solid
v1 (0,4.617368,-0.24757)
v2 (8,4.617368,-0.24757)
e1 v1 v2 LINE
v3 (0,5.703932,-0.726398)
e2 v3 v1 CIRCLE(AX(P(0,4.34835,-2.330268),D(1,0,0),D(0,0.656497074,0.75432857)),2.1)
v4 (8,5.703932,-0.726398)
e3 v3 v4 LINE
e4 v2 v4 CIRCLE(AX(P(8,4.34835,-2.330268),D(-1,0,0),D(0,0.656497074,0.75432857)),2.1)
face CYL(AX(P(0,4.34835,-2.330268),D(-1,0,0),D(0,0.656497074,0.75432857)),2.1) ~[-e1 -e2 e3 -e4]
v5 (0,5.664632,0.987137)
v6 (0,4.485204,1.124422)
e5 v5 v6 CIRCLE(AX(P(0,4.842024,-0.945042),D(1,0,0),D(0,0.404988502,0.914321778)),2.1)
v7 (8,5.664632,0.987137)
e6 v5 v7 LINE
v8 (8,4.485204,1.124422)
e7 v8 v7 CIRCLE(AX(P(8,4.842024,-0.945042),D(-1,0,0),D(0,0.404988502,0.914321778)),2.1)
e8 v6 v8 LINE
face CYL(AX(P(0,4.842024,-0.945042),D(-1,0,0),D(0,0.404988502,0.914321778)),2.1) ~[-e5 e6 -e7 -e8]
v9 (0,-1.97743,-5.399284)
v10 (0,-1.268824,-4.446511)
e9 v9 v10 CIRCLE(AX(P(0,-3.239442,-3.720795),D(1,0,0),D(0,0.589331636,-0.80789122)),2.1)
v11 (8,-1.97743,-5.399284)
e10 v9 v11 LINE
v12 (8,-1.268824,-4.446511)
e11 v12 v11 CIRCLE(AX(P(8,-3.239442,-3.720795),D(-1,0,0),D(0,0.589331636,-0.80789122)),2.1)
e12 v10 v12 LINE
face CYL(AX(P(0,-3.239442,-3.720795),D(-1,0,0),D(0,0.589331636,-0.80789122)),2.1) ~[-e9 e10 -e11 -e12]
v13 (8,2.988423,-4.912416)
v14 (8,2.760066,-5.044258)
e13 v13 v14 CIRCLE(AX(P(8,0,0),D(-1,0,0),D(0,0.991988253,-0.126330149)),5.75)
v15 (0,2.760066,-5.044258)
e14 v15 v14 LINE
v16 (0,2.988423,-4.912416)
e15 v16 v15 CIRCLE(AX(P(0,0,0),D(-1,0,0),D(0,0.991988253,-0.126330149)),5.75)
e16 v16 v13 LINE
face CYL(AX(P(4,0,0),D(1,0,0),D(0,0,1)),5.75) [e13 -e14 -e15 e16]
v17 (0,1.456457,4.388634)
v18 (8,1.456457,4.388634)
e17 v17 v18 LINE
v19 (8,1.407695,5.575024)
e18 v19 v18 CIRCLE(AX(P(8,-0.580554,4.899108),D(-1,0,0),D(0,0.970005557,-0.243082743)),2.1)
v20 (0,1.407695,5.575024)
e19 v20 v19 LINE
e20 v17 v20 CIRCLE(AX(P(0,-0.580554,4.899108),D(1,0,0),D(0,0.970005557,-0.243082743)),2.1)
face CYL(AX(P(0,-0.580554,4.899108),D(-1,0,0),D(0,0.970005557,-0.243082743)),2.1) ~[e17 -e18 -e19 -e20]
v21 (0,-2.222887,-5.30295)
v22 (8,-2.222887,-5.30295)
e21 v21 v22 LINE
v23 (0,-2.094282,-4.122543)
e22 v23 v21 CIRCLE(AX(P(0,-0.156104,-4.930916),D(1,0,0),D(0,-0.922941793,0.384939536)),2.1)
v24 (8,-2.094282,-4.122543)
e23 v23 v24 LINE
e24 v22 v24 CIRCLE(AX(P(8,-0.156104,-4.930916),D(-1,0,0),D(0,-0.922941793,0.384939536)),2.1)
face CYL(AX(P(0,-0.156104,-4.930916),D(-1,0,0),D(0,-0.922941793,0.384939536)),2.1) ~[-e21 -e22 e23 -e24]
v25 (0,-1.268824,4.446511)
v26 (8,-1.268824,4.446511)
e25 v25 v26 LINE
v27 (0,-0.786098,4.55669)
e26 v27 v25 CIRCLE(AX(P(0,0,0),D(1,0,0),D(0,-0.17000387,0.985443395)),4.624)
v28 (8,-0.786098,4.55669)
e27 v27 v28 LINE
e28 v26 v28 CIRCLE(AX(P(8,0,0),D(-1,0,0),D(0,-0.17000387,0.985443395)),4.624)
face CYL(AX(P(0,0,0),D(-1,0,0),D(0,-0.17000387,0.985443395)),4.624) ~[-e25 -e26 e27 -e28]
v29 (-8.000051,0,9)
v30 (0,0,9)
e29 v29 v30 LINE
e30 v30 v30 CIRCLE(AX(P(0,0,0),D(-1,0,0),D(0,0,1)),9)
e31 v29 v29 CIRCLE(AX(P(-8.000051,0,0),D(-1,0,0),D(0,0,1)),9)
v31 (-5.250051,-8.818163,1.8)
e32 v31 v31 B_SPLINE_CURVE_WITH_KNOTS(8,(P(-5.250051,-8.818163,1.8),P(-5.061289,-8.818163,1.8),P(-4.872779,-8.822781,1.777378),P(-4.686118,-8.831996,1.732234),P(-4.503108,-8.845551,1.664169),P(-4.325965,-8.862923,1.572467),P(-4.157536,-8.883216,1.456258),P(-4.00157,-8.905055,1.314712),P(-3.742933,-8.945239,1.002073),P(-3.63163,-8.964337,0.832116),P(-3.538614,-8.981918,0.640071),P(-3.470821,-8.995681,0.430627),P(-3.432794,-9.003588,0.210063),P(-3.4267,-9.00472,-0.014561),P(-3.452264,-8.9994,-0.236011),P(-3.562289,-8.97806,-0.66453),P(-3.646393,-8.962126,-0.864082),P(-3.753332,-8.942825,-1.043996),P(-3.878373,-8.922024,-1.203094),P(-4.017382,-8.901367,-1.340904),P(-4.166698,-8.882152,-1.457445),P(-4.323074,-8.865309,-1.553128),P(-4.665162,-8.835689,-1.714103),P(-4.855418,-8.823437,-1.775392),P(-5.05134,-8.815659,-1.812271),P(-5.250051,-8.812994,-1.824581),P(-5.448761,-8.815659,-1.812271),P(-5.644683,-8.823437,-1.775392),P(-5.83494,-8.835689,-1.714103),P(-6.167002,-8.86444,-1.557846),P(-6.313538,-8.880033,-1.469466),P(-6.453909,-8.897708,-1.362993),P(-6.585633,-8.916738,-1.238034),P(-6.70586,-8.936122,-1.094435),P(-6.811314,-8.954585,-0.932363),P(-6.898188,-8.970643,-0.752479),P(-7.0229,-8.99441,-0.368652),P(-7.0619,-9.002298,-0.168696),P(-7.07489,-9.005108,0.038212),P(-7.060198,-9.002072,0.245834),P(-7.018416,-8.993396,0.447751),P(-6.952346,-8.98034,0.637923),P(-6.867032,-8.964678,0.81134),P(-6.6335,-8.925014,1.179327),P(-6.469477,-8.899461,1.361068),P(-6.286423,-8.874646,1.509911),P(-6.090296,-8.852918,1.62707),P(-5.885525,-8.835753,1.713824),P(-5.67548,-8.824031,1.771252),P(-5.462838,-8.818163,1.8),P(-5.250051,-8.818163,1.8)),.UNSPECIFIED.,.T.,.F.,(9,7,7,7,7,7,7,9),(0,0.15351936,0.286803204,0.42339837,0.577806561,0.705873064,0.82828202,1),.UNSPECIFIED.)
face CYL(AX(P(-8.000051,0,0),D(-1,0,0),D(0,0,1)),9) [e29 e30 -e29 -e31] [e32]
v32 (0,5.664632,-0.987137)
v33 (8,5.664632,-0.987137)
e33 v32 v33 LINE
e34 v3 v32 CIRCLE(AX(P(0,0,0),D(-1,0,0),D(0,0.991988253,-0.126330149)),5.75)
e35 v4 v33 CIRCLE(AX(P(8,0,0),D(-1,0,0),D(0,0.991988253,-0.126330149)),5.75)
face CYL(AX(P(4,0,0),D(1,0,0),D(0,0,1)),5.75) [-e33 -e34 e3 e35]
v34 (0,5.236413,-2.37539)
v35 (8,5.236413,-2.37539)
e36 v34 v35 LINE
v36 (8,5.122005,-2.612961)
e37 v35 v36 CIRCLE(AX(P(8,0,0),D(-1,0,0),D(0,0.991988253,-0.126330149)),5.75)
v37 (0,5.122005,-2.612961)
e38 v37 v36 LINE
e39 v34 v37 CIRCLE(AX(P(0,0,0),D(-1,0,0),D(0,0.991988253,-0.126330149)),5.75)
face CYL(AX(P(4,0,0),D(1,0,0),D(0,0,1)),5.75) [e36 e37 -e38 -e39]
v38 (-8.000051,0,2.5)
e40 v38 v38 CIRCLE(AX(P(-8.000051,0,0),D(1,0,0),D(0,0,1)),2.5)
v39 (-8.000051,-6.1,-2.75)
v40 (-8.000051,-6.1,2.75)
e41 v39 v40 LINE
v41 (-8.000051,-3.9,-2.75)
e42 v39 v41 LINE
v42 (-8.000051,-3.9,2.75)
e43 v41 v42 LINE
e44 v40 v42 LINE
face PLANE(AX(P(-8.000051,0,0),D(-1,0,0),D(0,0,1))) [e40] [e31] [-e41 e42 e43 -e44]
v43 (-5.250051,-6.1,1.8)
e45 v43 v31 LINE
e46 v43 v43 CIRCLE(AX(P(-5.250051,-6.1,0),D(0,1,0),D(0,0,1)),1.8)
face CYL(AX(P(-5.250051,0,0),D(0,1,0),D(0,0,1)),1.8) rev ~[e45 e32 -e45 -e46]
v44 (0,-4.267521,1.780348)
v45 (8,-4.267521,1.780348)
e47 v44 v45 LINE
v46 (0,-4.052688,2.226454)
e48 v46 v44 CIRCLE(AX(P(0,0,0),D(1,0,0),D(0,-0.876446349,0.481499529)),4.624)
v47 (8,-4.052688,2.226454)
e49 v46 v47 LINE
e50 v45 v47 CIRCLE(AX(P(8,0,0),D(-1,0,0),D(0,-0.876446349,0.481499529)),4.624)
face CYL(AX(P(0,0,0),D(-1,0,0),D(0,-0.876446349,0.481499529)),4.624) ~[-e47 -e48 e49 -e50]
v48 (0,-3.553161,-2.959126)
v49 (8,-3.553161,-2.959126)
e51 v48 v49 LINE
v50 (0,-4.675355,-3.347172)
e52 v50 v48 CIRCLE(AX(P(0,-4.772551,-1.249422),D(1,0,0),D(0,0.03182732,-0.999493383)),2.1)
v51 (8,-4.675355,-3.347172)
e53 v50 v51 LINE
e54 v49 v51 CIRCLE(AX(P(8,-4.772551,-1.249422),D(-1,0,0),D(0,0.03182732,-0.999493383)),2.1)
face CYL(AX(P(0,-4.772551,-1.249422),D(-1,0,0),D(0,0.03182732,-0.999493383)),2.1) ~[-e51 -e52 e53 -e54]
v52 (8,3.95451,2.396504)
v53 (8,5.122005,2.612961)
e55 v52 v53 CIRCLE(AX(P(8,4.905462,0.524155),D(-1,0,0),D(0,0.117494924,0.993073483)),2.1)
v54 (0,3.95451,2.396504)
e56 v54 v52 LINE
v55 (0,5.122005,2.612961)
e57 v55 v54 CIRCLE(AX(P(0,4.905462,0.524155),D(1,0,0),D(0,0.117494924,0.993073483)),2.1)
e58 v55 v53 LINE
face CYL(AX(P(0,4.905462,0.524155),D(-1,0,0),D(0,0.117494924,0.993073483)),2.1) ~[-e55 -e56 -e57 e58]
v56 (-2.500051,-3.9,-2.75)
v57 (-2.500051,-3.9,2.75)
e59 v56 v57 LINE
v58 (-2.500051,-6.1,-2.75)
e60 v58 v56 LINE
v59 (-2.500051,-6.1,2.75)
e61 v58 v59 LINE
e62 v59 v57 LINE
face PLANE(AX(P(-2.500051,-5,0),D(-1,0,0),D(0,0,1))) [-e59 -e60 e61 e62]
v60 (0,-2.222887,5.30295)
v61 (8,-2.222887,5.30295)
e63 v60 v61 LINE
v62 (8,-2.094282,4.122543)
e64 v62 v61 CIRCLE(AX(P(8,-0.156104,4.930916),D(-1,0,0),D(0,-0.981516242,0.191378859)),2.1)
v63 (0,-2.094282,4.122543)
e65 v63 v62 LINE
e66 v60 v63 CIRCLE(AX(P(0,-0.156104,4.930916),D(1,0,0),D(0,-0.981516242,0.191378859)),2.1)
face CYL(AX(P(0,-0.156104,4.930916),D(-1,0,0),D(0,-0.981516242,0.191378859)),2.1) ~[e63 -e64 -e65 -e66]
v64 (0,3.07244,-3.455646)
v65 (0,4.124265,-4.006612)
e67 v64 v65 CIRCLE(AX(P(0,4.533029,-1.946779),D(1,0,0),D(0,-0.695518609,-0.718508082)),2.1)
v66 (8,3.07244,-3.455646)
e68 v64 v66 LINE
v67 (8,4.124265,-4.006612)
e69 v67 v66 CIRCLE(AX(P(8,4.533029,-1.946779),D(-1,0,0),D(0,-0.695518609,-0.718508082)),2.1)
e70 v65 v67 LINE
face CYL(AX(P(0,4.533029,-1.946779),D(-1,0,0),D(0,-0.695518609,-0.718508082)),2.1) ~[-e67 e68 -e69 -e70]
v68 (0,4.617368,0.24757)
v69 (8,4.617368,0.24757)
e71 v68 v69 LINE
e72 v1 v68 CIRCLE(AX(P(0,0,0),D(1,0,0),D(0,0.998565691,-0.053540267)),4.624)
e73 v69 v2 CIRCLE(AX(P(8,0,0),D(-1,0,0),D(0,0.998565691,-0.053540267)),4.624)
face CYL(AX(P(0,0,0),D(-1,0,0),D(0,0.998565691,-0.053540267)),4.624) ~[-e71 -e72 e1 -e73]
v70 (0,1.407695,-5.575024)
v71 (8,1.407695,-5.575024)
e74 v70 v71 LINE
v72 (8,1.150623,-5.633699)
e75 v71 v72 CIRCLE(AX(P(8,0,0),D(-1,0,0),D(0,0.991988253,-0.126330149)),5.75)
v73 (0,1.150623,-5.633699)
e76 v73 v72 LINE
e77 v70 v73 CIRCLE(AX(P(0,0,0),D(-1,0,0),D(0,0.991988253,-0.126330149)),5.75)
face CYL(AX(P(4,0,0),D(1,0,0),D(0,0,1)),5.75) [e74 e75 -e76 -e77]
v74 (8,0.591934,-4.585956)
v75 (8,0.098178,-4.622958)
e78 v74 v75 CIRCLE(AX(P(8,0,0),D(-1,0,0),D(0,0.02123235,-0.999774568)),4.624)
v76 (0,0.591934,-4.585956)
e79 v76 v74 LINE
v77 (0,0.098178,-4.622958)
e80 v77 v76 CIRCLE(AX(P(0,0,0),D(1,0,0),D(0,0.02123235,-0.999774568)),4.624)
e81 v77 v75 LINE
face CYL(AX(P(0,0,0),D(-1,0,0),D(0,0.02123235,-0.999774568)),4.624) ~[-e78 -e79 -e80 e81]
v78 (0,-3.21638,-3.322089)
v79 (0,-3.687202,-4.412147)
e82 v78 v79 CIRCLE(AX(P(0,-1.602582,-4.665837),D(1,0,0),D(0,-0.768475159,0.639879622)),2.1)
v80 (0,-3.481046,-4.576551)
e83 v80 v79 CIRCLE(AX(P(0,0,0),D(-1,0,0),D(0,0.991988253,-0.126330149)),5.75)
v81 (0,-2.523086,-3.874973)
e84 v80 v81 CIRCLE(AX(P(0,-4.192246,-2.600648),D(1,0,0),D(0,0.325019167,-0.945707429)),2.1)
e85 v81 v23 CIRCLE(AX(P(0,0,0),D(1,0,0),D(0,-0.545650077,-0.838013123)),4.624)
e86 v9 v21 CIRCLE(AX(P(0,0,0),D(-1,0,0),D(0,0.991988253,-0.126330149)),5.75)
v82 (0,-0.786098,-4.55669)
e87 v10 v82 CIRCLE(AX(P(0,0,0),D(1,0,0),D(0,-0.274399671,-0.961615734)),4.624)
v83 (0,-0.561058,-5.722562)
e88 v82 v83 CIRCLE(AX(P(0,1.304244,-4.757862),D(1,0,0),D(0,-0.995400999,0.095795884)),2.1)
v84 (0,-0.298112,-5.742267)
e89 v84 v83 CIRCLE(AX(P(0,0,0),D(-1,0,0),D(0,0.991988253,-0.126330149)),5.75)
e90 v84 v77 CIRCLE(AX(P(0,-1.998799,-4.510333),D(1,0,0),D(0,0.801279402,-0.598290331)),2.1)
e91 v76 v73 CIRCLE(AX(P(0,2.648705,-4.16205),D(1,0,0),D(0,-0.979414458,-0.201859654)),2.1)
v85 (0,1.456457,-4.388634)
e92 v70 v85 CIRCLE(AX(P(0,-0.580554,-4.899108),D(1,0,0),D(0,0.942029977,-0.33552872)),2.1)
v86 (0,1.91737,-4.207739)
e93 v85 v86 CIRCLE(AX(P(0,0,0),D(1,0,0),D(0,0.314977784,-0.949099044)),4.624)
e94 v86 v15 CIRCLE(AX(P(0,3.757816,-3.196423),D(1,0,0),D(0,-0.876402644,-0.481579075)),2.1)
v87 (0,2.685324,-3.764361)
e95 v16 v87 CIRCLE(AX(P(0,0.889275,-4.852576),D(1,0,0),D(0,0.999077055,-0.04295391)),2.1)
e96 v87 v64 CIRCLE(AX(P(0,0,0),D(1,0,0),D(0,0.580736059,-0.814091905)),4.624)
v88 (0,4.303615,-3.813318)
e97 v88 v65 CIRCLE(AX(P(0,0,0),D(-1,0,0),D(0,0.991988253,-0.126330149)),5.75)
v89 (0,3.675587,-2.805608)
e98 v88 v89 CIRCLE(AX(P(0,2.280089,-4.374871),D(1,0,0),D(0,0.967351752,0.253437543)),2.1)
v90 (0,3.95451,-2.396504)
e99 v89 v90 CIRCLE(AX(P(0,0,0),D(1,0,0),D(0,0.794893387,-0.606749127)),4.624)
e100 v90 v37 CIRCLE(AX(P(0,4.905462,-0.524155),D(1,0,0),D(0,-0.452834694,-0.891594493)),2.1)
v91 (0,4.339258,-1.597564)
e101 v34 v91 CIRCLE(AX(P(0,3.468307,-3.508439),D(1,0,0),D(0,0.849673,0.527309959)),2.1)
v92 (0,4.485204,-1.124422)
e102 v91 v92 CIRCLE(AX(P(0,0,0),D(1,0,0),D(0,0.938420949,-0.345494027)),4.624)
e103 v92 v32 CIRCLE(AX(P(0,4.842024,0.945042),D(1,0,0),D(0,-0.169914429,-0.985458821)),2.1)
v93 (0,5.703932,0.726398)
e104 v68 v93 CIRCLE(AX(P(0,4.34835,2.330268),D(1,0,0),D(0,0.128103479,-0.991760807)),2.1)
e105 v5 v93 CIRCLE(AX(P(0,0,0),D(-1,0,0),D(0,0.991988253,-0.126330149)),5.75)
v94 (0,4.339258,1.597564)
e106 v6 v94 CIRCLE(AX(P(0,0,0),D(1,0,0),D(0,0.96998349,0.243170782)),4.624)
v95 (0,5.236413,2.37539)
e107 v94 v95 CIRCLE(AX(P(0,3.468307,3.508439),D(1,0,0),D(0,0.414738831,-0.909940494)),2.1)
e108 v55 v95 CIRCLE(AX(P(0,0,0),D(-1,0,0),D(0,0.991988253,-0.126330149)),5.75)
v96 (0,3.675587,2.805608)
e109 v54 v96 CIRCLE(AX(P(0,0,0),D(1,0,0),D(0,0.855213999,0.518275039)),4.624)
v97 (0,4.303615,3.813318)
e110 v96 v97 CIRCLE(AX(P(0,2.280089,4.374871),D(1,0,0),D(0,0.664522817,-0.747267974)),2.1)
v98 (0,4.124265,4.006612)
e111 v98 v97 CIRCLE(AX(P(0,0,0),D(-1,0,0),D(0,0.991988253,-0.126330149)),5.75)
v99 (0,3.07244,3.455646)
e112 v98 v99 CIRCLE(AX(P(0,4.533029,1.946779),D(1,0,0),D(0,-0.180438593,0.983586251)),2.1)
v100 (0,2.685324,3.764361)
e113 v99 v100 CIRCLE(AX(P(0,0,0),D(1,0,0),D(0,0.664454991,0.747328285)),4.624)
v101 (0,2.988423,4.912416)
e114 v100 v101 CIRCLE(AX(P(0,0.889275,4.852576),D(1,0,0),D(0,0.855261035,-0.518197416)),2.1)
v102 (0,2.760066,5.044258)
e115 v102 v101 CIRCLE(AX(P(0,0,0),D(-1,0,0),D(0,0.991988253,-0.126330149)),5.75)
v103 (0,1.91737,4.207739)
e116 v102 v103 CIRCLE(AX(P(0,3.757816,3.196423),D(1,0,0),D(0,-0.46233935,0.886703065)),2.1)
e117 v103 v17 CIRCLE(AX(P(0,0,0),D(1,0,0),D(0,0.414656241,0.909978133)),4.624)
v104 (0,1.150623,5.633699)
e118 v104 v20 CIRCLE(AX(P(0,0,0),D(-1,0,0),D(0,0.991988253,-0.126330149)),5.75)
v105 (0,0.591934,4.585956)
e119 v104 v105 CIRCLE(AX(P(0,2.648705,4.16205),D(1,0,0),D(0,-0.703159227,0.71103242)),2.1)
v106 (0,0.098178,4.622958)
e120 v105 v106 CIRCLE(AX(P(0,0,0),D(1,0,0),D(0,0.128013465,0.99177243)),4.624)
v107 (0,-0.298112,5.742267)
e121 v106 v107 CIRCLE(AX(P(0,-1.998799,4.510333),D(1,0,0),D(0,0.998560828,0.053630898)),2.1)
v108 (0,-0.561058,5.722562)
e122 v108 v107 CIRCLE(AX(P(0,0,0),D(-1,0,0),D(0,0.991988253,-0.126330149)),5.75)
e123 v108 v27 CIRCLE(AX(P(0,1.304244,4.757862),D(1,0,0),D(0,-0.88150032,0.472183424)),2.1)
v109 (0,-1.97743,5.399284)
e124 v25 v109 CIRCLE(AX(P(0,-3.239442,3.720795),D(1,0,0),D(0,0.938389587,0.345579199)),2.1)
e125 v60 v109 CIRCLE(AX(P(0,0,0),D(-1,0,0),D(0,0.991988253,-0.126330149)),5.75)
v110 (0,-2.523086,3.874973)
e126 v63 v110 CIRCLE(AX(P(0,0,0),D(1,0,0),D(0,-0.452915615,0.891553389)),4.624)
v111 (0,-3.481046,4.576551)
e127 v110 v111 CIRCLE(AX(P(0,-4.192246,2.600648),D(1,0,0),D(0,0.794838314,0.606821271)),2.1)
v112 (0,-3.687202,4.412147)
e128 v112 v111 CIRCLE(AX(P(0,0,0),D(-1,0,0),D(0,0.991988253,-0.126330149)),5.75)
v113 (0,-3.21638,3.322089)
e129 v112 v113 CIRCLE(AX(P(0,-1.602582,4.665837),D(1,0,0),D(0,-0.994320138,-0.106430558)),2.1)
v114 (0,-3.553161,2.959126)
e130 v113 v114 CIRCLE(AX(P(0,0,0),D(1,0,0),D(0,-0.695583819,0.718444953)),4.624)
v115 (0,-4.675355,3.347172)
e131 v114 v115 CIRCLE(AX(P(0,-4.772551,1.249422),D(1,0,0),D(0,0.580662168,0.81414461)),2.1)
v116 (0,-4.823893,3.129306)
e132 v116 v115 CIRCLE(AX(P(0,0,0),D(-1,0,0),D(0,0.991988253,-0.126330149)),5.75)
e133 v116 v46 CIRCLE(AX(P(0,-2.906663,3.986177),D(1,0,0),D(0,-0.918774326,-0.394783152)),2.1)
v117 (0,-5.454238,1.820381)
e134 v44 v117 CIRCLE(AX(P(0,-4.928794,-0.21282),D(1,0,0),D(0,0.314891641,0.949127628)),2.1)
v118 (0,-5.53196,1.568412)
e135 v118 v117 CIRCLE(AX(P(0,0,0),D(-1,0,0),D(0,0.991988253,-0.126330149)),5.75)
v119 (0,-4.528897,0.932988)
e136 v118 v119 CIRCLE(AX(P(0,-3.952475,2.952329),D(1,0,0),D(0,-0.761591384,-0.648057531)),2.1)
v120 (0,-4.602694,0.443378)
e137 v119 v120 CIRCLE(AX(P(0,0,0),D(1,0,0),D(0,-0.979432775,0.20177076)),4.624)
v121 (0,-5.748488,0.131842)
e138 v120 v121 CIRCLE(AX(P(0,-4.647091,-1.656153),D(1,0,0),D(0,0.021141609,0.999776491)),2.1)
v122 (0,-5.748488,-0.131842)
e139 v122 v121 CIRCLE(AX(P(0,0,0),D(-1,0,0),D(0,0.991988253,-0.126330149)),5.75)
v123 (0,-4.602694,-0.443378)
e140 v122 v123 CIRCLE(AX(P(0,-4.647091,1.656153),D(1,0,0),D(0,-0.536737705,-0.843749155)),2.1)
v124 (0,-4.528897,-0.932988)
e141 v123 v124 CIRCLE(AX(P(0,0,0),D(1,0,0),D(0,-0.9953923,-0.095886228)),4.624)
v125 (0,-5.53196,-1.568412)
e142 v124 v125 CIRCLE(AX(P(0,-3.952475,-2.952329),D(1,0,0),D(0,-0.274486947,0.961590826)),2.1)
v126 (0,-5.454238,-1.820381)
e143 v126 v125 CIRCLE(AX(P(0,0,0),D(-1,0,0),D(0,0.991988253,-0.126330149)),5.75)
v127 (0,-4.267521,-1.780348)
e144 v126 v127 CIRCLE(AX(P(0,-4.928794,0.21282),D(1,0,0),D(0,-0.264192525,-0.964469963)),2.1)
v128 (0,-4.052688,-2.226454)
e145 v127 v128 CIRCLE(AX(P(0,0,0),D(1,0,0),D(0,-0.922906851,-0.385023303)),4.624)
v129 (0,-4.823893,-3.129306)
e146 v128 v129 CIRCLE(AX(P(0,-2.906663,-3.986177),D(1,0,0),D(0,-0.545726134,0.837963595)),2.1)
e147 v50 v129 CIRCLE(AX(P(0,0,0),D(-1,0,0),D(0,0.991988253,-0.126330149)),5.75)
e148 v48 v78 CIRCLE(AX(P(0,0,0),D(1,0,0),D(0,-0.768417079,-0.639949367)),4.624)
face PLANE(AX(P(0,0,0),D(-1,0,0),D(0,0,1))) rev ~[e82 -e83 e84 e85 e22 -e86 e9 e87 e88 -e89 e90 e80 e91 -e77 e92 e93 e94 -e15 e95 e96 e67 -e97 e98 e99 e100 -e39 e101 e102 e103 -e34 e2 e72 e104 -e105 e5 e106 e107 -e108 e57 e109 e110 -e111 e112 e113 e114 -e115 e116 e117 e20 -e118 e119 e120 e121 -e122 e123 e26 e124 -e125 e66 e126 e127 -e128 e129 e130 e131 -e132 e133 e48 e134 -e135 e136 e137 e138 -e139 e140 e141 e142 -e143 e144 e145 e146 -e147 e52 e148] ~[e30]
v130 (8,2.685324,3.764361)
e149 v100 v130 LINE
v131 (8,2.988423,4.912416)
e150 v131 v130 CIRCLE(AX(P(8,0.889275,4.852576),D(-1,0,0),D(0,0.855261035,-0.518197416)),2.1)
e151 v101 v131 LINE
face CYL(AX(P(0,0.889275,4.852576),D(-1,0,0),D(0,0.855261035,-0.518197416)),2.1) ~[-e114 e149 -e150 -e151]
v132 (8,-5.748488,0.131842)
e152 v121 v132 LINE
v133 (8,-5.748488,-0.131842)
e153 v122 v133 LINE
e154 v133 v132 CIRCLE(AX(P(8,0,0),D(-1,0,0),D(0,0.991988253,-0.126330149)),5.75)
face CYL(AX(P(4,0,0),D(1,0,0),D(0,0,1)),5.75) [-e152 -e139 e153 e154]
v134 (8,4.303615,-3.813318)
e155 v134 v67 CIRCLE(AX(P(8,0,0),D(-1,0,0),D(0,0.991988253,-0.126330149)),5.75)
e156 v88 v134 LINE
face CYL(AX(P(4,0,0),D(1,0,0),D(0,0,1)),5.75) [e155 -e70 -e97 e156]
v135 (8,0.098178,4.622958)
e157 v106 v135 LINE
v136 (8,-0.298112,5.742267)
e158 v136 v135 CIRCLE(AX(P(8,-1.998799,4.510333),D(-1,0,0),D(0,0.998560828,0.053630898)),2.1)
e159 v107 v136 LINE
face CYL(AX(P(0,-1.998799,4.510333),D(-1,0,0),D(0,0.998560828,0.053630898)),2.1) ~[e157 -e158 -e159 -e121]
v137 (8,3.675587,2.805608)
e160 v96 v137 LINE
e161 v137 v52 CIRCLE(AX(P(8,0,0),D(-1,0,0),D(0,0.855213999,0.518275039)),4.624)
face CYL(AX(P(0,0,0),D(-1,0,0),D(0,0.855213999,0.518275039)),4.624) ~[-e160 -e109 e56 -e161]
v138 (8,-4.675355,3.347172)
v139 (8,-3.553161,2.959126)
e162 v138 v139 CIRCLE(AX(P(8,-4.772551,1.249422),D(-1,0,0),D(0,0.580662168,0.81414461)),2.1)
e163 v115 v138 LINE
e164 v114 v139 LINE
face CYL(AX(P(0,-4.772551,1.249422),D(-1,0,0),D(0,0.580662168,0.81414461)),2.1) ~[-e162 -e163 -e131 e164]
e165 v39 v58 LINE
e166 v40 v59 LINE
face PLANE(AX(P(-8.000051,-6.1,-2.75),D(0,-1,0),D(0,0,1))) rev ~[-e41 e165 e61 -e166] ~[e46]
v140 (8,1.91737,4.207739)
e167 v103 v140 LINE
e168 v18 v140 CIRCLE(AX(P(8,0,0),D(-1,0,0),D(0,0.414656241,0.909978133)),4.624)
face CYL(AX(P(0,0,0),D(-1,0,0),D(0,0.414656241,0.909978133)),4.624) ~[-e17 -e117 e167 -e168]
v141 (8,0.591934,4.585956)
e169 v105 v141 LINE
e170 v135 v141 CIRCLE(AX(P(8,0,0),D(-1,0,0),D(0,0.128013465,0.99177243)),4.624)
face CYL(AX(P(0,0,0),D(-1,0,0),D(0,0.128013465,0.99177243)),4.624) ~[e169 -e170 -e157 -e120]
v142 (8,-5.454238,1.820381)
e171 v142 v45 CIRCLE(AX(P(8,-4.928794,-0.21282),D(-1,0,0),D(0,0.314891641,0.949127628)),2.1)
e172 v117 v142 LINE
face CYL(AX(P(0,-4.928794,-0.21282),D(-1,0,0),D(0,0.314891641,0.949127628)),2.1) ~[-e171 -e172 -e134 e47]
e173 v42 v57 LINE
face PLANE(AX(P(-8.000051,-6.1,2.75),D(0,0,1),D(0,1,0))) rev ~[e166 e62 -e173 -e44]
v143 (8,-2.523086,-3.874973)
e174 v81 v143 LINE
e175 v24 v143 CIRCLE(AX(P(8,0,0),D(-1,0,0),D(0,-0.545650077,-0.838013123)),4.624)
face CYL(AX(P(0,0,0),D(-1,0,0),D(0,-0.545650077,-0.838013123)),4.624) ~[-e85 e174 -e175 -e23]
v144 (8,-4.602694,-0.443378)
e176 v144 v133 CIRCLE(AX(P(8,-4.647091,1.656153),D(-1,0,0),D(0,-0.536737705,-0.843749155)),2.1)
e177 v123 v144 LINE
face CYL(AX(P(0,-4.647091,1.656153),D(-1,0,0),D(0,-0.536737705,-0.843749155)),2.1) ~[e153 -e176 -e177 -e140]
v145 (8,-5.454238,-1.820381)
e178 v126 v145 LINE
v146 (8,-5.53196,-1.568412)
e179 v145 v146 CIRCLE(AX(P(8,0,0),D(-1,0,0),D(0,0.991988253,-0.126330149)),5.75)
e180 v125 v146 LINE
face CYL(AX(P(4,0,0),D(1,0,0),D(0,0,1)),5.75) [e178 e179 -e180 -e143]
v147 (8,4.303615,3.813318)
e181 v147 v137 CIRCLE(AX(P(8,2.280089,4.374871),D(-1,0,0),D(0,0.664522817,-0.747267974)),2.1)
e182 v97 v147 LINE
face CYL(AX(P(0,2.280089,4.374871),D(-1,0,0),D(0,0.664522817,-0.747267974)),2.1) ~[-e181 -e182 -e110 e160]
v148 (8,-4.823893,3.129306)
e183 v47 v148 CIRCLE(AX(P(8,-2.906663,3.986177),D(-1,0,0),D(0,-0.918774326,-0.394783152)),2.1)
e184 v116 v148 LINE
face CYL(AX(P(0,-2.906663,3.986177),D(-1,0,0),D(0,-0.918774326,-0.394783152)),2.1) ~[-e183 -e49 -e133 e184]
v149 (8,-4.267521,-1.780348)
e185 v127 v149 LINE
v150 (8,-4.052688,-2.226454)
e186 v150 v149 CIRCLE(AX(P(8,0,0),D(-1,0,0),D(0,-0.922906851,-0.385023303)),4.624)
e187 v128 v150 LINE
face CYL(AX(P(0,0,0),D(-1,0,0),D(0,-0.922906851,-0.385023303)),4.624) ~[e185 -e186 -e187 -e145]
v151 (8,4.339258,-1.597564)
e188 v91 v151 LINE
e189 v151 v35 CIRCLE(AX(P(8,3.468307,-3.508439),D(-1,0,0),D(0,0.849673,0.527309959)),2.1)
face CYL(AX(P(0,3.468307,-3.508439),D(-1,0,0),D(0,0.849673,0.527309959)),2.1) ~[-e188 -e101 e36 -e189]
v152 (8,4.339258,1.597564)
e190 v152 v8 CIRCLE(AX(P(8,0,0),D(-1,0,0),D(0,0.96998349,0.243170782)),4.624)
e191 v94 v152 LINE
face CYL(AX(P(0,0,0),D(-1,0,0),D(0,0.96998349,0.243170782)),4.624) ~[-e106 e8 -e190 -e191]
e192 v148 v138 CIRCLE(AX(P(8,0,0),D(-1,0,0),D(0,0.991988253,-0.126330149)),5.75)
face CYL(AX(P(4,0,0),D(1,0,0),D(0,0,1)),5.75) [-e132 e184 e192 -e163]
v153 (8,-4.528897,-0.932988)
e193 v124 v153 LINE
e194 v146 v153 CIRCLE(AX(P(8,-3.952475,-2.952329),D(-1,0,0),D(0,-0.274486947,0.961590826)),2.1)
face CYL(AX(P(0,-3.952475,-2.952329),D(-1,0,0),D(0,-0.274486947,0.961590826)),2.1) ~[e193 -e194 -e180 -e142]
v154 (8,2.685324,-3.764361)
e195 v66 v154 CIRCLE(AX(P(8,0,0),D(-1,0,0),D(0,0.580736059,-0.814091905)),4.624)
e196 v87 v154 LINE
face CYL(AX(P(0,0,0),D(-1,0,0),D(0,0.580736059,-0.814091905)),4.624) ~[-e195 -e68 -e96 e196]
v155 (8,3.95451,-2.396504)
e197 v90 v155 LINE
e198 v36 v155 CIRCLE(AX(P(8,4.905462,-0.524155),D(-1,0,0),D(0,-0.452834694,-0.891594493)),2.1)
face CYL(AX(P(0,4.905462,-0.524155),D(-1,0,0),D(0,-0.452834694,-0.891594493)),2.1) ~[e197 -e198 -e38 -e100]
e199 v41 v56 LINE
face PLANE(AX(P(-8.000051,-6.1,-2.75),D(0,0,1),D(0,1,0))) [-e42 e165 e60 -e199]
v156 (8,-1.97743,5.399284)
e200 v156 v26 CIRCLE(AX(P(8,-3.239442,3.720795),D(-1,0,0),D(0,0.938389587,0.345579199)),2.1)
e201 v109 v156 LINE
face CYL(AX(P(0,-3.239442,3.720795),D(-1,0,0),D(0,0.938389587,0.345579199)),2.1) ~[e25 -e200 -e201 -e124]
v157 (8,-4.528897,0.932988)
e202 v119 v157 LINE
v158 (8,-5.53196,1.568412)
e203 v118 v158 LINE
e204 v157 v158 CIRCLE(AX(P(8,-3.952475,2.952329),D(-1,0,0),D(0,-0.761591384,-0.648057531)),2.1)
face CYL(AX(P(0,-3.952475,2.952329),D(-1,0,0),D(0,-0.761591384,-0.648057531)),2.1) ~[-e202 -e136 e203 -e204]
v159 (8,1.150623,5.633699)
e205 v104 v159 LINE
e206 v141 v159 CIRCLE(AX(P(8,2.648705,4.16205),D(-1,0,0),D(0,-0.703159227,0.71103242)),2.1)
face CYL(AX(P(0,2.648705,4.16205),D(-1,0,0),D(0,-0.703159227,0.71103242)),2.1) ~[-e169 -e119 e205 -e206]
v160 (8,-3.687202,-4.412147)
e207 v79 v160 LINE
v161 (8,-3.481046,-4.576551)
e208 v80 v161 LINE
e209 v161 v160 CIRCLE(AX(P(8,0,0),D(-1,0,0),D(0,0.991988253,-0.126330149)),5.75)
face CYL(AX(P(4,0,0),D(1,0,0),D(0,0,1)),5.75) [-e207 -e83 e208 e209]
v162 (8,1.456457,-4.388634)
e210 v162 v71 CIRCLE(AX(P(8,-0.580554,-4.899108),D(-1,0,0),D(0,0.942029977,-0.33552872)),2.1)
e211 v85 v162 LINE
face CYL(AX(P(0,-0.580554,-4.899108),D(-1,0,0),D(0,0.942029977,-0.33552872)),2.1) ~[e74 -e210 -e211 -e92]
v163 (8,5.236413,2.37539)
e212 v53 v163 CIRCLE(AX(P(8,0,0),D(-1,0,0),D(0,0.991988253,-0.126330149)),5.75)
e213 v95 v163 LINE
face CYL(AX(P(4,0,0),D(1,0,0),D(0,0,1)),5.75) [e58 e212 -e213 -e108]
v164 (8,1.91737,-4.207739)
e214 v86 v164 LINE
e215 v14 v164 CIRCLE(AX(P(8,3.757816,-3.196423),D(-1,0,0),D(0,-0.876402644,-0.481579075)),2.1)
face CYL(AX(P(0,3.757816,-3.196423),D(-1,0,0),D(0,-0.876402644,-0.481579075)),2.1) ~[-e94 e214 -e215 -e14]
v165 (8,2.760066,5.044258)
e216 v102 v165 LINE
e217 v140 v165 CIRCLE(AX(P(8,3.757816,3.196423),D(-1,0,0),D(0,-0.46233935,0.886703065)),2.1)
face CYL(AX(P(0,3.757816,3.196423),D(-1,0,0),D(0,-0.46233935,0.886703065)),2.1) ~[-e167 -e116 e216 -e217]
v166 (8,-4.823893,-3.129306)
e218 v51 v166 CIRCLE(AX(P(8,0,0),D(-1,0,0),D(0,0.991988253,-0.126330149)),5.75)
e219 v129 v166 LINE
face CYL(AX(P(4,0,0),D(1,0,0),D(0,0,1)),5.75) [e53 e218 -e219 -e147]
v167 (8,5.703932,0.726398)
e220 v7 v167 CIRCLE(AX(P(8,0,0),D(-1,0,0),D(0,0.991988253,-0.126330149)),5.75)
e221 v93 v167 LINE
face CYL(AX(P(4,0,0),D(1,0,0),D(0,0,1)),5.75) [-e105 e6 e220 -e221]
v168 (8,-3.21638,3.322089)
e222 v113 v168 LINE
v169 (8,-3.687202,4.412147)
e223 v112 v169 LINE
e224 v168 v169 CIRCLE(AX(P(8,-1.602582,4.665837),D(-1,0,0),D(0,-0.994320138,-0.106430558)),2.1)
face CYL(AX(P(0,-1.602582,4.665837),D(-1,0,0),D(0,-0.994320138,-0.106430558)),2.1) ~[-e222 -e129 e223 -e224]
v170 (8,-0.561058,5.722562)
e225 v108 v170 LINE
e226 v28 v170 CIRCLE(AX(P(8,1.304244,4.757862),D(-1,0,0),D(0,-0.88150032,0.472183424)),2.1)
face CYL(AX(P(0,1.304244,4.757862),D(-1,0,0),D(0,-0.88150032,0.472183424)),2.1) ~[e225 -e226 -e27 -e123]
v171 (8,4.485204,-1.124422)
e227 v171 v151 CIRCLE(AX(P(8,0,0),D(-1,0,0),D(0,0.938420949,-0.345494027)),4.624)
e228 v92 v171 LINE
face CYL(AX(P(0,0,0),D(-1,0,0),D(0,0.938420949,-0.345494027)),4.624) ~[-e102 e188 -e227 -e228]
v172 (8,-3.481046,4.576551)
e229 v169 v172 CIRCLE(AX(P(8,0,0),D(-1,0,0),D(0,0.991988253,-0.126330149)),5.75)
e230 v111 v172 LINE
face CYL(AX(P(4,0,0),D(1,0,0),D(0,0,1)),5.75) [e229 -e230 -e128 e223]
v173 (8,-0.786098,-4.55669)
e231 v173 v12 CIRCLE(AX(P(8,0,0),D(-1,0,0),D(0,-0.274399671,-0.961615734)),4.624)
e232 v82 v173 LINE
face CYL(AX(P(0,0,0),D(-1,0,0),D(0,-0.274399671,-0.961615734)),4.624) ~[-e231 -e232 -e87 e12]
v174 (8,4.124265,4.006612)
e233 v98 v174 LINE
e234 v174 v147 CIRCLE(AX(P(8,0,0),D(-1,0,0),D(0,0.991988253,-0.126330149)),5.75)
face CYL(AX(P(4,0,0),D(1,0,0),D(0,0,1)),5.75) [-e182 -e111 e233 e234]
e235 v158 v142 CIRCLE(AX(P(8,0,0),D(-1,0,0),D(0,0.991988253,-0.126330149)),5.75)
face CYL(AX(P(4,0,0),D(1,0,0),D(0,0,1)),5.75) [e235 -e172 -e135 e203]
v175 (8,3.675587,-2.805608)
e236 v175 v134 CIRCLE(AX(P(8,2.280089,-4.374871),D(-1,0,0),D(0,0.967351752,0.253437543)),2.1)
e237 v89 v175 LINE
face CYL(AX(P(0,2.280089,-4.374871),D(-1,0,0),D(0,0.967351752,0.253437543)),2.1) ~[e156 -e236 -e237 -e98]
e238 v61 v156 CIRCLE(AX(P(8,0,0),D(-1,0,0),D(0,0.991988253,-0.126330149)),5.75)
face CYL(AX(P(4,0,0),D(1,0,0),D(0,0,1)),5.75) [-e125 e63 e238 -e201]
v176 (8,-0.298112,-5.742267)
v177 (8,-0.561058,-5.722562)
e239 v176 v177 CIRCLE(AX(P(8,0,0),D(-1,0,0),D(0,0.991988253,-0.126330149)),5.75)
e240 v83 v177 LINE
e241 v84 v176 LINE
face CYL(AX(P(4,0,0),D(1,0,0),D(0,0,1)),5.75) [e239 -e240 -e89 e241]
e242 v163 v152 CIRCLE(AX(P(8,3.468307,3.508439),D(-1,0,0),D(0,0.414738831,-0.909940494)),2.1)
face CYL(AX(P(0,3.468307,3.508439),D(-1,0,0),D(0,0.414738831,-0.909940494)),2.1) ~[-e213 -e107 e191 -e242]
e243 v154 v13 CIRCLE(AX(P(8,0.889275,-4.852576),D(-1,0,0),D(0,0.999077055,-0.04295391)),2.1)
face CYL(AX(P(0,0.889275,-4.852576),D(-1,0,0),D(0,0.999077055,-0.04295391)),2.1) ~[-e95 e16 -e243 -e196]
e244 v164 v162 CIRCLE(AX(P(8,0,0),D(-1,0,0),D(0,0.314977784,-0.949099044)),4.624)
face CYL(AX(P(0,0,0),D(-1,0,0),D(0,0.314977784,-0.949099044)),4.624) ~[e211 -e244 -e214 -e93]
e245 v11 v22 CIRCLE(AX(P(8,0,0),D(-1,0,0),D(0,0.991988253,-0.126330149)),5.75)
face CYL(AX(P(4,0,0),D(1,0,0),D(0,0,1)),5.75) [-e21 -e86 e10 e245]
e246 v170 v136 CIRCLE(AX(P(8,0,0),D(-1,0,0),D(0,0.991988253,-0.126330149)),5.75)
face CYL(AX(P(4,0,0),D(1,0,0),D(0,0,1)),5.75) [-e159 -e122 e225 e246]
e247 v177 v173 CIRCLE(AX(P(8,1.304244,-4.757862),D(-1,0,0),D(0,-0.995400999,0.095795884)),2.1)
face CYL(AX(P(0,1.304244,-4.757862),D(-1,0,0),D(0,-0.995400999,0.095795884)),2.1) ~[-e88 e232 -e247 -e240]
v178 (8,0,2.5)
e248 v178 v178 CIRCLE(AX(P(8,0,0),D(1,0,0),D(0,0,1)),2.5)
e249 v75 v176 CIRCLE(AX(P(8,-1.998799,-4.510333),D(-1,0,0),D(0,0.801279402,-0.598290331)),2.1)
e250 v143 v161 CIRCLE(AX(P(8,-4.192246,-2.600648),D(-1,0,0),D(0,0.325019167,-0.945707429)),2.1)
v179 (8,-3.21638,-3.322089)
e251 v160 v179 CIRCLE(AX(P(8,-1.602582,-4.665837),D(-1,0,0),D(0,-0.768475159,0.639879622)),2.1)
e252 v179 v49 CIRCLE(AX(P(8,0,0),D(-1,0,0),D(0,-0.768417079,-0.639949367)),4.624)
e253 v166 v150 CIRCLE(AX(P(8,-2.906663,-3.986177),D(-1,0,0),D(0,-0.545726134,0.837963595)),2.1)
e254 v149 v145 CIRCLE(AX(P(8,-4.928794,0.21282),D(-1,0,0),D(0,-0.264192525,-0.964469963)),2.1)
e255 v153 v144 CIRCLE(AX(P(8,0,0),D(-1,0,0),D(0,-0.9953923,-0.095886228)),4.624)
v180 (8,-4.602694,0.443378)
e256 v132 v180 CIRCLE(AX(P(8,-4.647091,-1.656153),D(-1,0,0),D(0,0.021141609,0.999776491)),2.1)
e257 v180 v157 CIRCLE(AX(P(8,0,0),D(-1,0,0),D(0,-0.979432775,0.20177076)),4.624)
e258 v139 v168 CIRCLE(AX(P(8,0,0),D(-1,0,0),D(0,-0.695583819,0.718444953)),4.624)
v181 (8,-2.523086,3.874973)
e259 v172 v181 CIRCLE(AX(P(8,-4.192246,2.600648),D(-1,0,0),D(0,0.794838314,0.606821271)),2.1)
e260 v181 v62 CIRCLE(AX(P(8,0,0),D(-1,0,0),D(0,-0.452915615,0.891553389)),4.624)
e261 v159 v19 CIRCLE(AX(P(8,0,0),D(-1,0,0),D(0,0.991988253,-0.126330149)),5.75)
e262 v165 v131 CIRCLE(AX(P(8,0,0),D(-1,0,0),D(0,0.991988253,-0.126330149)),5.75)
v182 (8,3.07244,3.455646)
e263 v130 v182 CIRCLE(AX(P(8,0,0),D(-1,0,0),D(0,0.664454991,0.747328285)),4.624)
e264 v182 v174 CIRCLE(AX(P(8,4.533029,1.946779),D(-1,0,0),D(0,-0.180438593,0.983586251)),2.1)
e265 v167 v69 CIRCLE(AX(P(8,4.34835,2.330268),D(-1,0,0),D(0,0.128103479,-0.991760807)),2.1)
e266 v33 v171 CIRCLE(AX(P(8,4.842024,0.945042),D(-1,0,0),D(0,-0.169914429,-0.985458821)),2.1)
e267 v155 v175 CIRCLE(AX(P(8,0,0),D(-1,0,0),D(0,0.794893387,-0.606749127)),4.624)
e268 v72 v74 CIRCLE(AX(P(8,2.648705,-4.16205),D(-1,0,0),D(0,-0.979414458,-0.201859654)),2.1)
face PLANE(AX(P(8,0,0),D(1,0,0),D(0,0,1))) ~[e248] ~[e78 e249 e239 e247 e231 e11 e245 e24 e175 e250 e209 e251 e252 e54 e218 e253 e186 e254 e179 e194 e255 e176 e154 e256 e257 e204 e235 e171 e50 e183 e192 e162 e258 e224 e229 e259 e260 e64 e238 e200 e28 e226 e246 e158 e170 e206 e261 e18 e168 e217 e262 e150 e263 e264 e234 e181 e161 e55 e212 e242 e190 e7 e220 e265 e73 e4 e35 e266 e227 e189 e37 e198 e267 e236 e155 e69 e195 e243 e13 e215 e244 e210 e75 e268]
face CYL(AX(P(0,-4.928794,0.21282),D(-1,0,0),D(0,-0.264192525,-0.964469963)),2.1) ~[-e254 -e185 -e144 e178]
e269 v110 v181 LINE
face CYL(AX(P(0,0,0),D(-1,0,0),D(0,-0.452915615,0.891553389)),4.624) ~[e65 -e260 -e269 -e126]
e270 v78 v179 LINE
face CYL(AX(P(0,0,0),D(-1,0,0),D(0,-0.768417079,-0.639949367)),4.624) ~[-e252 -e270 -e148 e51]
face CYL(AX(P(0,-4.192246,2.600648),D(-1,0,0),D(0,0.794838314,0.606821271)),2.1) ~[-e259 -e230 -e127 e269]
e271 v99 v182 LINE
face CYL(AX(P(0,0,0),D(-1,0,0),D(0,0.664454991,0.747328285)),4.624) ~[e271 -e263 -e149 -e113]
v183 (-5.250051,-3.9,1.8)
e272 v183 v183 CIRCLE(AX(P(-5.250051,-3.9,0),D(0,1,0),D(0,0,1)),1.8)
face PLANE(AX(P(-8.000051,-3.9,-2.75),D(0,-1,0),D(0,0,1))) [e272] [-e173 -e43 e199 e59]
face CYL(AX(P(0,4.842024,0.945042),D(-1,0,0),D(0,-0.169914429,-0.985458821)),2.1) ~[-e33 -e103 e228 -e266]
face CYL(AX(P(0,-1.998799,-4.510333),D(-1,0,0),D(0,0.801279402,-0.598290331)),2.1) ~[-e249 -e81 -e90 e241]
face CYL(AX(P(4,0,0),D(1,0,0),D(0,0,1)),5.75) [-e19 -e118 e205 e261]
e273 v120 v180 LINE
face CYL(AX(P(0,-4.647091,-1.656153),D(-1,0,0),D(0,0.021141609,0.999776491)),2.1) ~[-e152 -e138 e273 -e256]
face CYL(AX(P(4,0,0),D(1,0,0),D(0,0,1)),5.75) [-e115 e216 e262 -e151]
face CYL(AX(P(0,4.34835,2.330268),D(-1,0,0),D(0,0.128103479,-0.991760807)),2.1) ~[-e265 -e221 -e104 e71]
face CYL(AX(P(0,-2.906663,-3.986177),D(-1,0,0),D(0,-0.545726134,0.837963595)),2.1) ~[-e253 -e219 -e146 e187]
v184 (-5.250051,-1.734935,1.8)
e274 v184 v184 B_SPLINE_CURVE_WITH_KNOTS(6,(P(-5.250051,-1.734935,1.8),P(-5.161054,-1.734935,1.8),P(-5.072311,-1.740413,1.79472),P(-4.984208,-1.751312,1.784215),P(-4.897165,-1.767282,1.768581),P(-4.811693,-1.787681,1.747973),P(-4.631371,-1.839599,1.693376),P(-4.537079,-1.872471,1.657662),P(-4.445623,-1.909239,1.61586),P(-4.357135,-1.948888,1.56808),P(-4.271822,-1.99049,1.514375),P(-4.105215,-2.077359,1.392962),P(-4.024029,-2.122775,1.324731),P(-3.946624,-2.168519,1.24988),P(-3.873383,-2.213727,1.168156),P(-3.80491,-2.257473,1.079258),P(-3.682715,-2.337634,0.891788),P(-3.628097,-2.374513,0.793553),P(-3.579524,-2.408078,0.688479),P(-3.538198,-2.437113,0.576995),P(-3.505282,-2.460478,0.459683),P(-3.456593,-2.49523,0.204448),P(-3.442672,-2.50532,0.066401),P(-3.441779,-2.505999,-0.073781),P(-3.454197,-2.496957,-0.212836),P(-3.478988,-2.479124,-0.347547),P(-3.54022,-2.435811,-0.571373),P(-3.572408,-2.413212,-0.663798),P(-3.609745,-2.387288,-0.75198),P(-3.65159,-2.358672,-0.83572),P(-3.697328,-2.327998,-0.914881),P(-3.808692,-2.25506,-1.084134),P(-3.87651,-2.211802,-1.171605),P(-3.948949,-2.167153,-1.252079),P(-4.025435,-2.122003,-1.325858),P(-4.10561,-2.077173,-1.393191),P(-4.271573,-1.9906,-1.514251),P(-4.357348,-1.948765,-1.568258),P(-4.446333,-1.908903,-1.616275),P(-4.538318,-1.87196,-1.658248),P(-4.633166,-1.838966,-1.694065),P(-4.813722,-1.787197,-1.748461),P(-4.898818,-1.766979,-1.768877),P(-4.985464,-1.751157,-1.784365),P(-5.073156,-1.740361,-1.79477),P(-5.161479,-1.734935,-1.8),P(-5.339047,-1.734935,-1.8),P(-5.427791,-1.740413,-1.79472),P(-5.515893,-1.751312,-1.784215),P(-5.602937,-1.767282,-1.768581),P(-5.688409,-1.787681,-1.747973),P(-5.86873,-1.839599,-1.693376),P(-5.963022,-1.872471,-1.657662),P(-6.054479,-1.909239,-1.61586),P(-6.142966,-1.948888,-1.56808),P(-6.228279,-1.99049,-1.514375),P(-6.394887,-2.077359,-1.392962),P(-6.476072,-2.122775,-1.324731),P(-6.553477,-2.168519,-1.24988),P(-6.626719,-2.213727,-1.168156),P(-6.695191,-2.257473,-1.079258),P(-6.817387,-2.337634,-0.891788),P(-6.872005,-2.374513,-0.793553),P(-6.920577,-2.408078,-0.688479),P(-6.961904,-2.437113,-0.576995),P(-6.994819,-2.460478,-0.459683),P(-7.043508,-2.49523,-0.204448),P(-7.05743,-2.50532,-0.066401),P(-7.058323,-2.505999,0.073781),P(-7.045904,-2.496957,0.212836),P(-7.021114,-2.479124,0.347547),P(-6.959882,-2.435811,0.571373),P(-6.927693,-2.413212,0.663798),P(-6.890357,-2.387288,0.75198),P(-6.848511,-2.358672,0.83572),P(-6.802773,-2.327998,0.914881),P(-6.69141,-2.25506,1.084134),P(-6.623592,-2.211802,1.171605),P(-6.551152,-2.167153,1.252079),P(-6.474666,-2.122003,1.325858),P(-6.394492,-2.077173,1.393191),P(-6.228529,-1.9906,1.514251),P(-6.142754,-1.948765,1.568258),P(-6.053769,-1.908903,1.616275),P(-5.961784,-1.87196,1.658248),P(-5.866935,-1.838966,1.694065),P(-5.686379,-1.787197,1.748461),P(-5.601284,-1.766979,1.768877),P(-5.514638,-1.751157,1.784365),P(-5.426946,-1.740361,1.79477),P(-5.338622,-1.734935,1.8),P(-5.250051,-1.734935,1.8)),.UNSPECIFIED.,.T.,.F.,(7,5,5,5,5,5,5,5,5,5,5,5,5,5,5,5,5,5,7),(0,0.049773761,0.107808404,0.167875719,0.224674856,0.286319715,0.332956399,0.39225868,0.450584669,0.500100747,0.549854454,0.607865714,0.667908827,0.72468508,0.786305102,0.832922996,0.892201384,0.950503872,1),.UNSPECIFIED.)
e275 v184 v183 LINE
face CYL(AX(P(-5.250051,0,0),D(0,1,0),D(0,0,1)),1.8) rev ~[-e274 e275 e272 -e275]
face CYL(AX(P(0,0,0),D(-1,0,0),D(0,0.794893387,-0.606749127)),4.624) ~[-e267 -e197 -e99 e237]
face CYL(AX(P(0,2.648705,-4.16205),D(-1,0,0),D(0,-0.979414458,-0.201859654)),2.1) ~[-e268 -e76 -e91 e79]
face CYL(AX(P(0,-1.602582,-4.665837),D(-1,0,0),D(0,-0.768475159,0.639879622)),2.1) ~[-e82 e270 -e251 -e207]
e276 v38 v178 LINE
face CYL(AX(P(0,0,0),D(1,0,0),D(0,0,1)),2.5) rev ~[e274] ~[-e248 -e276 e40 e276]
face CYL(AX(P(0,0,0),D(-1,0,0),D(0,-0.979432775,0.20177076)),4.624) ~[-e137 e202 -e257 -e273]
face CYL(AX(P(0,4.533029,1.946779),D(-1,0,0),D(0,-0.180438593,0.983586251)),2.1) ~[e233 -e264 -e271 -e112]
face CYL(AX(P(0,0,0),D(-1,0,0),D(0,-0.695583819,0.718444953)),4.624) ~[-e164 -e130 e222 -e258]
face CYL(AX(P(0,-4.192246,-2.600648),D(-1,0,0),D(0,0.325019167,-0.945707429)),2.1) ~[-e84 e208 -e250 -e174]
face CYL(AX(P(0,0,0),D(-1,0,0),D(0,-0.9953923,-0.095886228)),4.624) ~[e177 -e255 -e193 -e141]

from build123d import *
from build123d.topology import SkipClean

# Parameters (mm, degrees)
BASPROSKE_W         = 8
BASPROSKE_H         = 5.75
TOOTHCUT_DEPTH      = 12.407234547
TEETHCUTS_COUNT     = 21
TEETHCUTS_ANGLE     = 342.857142857
HUBNEARONE_START    = 8.0000508
HUBNEAONESKE_R      = 4.624
HUBNEARONE_DEPTH    = 8.0000508
BORSKE_R            = 2.5
BORE_DEPTH          = 16.0000508
SKETCH1_R           = 9
SKETCH1_R_2         = 4.624
BOSS_EXTRUDE1_DEPTH = 8.0000508
SKETCH3_R           = 1.8
CUT_EXTRUDE1_DEPTH  = 16.033323412
SKETCH4_W           = 5.5
SKETCH4_H           = 2.2
CUT_EXTRUDE2_DEPTH  = 5.5


with BuildPart() as part:
    # BasProSke → Base-Revolve (revolve)
    with BuildSketch(Plane(origin=(0, 0, 0), x_dir=(1, 0, 0), z_dir=(0, 1, 0)), mode=Mode.PRIVATE) as base_revolve_sk:
        with Locations((4, 2.875)):
            Rectangle(BASPROSKE_W, BASPROSKE_H)
    revolve(base_revolve_sk.sketch.rotate(Axis((-10, 0, 0), (1, 0, 0)), 180), axis=Axis((-10, 0, 0), (1, 0, 0)))

    # TooCutSke → ToothCut (cut, through all)
    with BuildSketch(Plane(origin=(0, 0, 0), x_dir=(0, 0, -1), z_dir=(1, 0, 0))):
        with BuildLine():
            ThreePointArc((0.247570178, 4.617367757), (0, 4.624), (-0.247570178, 4.617367757))
            ThreePointArc((-0.247570178, 4.617367757), (-0.414765128, 5.209076442), (-0.746177874, 5.726994302))
            ThreePointArc((-0.746177874, 5.726994302), (0, 5.7754), (0.746177874, 5.726994302))
            ThreePointArc((0.746177874, 5.726994302), (0.414765128, 5.209076442), (0.247570178, 4.617367757))
        make_face()
    toothcut = extrude(amount=TOOTHCUT_DEPTH, mode=Mode.SUBTRACT)

    # TeethCuts: ToothCut ×21 about axis
    teethcuts_axis = Axis((-10, 0, 0), (1, 0, 0))
    for i in range(1, TEETHCUTS_COUNT):
        add(toothcut.rotate(teethcuts_axis, i * TEETHCUTS_ANGLE / (TEETHCUTS_COUNT - 1)), mode=Mode.SUBTRACT)

    # HubNeaOneSke → HubNearOne (add)
    with SkipClean():  # the faces are left unmerged after this step: merging them gives an invalid solid
        with BuildSketch(Plane.ZY.offset(HUBNEARONE_START)):
            Circle(HUBNEAONESKE_R)
        extrude(amount=-HUBNEARONE_DEPTH)

    # BorSke → Bore (cut, symmetric)
    with SkipClean():  # the faces are left unmerged after this step: merging them gives an invalid solid
        with BuildSketch(Plane(origin=(0, 0, 0), x_dir=(0, 0, -1), z_dir=(1, 0, 0))):
            with Locations(Location((0, 0, 0), (0, 0, 180))):
                Circle(BORSKE_R)
        extrude(amount=BORE_DEPTH, both=True, mode=Mode.SUBTRACT)

    # Sketch1 → Boss-Extrude1 (add)
    with BuildSketch(Plane.ZY.offset(8.0000508)):
        Circle(SKETCH1_R)
        Circle(SKETCH1_R_2, mode=Mode.SUBTRACT)
    extrude(amount=-BOSS_EXTRUDE1_DEPTH)

    # Sketch3 → Cut-Extrude1 (cut, through all)
    with BuildSketch(Plane(origin=(0, 0, 0), x_dir=(1, 0, 0), z_dir=(0, 1, 0))):
        with Locations(Location((-5.2500508, 0, 0), (0, 0, 270))):
            Circle(SKETCH3_R)
    extrude(amount=-CUT_EXTRUDE1_DEPTH, mode=Mode.SUBTRACT)

    # Sketch4 → Cut-Extrude2 (cut)
    with BuildSketch(Plane.ZY.offset(8.0000508)):
        with Locations((0, -5)):
            Rectangle(SKETCH4_W, SKETCH4_H)
    extrude(amount=-CUT_EXTRUDE2_DEPTH, mode=Mode.SUBTRACT)


solid = part.part
